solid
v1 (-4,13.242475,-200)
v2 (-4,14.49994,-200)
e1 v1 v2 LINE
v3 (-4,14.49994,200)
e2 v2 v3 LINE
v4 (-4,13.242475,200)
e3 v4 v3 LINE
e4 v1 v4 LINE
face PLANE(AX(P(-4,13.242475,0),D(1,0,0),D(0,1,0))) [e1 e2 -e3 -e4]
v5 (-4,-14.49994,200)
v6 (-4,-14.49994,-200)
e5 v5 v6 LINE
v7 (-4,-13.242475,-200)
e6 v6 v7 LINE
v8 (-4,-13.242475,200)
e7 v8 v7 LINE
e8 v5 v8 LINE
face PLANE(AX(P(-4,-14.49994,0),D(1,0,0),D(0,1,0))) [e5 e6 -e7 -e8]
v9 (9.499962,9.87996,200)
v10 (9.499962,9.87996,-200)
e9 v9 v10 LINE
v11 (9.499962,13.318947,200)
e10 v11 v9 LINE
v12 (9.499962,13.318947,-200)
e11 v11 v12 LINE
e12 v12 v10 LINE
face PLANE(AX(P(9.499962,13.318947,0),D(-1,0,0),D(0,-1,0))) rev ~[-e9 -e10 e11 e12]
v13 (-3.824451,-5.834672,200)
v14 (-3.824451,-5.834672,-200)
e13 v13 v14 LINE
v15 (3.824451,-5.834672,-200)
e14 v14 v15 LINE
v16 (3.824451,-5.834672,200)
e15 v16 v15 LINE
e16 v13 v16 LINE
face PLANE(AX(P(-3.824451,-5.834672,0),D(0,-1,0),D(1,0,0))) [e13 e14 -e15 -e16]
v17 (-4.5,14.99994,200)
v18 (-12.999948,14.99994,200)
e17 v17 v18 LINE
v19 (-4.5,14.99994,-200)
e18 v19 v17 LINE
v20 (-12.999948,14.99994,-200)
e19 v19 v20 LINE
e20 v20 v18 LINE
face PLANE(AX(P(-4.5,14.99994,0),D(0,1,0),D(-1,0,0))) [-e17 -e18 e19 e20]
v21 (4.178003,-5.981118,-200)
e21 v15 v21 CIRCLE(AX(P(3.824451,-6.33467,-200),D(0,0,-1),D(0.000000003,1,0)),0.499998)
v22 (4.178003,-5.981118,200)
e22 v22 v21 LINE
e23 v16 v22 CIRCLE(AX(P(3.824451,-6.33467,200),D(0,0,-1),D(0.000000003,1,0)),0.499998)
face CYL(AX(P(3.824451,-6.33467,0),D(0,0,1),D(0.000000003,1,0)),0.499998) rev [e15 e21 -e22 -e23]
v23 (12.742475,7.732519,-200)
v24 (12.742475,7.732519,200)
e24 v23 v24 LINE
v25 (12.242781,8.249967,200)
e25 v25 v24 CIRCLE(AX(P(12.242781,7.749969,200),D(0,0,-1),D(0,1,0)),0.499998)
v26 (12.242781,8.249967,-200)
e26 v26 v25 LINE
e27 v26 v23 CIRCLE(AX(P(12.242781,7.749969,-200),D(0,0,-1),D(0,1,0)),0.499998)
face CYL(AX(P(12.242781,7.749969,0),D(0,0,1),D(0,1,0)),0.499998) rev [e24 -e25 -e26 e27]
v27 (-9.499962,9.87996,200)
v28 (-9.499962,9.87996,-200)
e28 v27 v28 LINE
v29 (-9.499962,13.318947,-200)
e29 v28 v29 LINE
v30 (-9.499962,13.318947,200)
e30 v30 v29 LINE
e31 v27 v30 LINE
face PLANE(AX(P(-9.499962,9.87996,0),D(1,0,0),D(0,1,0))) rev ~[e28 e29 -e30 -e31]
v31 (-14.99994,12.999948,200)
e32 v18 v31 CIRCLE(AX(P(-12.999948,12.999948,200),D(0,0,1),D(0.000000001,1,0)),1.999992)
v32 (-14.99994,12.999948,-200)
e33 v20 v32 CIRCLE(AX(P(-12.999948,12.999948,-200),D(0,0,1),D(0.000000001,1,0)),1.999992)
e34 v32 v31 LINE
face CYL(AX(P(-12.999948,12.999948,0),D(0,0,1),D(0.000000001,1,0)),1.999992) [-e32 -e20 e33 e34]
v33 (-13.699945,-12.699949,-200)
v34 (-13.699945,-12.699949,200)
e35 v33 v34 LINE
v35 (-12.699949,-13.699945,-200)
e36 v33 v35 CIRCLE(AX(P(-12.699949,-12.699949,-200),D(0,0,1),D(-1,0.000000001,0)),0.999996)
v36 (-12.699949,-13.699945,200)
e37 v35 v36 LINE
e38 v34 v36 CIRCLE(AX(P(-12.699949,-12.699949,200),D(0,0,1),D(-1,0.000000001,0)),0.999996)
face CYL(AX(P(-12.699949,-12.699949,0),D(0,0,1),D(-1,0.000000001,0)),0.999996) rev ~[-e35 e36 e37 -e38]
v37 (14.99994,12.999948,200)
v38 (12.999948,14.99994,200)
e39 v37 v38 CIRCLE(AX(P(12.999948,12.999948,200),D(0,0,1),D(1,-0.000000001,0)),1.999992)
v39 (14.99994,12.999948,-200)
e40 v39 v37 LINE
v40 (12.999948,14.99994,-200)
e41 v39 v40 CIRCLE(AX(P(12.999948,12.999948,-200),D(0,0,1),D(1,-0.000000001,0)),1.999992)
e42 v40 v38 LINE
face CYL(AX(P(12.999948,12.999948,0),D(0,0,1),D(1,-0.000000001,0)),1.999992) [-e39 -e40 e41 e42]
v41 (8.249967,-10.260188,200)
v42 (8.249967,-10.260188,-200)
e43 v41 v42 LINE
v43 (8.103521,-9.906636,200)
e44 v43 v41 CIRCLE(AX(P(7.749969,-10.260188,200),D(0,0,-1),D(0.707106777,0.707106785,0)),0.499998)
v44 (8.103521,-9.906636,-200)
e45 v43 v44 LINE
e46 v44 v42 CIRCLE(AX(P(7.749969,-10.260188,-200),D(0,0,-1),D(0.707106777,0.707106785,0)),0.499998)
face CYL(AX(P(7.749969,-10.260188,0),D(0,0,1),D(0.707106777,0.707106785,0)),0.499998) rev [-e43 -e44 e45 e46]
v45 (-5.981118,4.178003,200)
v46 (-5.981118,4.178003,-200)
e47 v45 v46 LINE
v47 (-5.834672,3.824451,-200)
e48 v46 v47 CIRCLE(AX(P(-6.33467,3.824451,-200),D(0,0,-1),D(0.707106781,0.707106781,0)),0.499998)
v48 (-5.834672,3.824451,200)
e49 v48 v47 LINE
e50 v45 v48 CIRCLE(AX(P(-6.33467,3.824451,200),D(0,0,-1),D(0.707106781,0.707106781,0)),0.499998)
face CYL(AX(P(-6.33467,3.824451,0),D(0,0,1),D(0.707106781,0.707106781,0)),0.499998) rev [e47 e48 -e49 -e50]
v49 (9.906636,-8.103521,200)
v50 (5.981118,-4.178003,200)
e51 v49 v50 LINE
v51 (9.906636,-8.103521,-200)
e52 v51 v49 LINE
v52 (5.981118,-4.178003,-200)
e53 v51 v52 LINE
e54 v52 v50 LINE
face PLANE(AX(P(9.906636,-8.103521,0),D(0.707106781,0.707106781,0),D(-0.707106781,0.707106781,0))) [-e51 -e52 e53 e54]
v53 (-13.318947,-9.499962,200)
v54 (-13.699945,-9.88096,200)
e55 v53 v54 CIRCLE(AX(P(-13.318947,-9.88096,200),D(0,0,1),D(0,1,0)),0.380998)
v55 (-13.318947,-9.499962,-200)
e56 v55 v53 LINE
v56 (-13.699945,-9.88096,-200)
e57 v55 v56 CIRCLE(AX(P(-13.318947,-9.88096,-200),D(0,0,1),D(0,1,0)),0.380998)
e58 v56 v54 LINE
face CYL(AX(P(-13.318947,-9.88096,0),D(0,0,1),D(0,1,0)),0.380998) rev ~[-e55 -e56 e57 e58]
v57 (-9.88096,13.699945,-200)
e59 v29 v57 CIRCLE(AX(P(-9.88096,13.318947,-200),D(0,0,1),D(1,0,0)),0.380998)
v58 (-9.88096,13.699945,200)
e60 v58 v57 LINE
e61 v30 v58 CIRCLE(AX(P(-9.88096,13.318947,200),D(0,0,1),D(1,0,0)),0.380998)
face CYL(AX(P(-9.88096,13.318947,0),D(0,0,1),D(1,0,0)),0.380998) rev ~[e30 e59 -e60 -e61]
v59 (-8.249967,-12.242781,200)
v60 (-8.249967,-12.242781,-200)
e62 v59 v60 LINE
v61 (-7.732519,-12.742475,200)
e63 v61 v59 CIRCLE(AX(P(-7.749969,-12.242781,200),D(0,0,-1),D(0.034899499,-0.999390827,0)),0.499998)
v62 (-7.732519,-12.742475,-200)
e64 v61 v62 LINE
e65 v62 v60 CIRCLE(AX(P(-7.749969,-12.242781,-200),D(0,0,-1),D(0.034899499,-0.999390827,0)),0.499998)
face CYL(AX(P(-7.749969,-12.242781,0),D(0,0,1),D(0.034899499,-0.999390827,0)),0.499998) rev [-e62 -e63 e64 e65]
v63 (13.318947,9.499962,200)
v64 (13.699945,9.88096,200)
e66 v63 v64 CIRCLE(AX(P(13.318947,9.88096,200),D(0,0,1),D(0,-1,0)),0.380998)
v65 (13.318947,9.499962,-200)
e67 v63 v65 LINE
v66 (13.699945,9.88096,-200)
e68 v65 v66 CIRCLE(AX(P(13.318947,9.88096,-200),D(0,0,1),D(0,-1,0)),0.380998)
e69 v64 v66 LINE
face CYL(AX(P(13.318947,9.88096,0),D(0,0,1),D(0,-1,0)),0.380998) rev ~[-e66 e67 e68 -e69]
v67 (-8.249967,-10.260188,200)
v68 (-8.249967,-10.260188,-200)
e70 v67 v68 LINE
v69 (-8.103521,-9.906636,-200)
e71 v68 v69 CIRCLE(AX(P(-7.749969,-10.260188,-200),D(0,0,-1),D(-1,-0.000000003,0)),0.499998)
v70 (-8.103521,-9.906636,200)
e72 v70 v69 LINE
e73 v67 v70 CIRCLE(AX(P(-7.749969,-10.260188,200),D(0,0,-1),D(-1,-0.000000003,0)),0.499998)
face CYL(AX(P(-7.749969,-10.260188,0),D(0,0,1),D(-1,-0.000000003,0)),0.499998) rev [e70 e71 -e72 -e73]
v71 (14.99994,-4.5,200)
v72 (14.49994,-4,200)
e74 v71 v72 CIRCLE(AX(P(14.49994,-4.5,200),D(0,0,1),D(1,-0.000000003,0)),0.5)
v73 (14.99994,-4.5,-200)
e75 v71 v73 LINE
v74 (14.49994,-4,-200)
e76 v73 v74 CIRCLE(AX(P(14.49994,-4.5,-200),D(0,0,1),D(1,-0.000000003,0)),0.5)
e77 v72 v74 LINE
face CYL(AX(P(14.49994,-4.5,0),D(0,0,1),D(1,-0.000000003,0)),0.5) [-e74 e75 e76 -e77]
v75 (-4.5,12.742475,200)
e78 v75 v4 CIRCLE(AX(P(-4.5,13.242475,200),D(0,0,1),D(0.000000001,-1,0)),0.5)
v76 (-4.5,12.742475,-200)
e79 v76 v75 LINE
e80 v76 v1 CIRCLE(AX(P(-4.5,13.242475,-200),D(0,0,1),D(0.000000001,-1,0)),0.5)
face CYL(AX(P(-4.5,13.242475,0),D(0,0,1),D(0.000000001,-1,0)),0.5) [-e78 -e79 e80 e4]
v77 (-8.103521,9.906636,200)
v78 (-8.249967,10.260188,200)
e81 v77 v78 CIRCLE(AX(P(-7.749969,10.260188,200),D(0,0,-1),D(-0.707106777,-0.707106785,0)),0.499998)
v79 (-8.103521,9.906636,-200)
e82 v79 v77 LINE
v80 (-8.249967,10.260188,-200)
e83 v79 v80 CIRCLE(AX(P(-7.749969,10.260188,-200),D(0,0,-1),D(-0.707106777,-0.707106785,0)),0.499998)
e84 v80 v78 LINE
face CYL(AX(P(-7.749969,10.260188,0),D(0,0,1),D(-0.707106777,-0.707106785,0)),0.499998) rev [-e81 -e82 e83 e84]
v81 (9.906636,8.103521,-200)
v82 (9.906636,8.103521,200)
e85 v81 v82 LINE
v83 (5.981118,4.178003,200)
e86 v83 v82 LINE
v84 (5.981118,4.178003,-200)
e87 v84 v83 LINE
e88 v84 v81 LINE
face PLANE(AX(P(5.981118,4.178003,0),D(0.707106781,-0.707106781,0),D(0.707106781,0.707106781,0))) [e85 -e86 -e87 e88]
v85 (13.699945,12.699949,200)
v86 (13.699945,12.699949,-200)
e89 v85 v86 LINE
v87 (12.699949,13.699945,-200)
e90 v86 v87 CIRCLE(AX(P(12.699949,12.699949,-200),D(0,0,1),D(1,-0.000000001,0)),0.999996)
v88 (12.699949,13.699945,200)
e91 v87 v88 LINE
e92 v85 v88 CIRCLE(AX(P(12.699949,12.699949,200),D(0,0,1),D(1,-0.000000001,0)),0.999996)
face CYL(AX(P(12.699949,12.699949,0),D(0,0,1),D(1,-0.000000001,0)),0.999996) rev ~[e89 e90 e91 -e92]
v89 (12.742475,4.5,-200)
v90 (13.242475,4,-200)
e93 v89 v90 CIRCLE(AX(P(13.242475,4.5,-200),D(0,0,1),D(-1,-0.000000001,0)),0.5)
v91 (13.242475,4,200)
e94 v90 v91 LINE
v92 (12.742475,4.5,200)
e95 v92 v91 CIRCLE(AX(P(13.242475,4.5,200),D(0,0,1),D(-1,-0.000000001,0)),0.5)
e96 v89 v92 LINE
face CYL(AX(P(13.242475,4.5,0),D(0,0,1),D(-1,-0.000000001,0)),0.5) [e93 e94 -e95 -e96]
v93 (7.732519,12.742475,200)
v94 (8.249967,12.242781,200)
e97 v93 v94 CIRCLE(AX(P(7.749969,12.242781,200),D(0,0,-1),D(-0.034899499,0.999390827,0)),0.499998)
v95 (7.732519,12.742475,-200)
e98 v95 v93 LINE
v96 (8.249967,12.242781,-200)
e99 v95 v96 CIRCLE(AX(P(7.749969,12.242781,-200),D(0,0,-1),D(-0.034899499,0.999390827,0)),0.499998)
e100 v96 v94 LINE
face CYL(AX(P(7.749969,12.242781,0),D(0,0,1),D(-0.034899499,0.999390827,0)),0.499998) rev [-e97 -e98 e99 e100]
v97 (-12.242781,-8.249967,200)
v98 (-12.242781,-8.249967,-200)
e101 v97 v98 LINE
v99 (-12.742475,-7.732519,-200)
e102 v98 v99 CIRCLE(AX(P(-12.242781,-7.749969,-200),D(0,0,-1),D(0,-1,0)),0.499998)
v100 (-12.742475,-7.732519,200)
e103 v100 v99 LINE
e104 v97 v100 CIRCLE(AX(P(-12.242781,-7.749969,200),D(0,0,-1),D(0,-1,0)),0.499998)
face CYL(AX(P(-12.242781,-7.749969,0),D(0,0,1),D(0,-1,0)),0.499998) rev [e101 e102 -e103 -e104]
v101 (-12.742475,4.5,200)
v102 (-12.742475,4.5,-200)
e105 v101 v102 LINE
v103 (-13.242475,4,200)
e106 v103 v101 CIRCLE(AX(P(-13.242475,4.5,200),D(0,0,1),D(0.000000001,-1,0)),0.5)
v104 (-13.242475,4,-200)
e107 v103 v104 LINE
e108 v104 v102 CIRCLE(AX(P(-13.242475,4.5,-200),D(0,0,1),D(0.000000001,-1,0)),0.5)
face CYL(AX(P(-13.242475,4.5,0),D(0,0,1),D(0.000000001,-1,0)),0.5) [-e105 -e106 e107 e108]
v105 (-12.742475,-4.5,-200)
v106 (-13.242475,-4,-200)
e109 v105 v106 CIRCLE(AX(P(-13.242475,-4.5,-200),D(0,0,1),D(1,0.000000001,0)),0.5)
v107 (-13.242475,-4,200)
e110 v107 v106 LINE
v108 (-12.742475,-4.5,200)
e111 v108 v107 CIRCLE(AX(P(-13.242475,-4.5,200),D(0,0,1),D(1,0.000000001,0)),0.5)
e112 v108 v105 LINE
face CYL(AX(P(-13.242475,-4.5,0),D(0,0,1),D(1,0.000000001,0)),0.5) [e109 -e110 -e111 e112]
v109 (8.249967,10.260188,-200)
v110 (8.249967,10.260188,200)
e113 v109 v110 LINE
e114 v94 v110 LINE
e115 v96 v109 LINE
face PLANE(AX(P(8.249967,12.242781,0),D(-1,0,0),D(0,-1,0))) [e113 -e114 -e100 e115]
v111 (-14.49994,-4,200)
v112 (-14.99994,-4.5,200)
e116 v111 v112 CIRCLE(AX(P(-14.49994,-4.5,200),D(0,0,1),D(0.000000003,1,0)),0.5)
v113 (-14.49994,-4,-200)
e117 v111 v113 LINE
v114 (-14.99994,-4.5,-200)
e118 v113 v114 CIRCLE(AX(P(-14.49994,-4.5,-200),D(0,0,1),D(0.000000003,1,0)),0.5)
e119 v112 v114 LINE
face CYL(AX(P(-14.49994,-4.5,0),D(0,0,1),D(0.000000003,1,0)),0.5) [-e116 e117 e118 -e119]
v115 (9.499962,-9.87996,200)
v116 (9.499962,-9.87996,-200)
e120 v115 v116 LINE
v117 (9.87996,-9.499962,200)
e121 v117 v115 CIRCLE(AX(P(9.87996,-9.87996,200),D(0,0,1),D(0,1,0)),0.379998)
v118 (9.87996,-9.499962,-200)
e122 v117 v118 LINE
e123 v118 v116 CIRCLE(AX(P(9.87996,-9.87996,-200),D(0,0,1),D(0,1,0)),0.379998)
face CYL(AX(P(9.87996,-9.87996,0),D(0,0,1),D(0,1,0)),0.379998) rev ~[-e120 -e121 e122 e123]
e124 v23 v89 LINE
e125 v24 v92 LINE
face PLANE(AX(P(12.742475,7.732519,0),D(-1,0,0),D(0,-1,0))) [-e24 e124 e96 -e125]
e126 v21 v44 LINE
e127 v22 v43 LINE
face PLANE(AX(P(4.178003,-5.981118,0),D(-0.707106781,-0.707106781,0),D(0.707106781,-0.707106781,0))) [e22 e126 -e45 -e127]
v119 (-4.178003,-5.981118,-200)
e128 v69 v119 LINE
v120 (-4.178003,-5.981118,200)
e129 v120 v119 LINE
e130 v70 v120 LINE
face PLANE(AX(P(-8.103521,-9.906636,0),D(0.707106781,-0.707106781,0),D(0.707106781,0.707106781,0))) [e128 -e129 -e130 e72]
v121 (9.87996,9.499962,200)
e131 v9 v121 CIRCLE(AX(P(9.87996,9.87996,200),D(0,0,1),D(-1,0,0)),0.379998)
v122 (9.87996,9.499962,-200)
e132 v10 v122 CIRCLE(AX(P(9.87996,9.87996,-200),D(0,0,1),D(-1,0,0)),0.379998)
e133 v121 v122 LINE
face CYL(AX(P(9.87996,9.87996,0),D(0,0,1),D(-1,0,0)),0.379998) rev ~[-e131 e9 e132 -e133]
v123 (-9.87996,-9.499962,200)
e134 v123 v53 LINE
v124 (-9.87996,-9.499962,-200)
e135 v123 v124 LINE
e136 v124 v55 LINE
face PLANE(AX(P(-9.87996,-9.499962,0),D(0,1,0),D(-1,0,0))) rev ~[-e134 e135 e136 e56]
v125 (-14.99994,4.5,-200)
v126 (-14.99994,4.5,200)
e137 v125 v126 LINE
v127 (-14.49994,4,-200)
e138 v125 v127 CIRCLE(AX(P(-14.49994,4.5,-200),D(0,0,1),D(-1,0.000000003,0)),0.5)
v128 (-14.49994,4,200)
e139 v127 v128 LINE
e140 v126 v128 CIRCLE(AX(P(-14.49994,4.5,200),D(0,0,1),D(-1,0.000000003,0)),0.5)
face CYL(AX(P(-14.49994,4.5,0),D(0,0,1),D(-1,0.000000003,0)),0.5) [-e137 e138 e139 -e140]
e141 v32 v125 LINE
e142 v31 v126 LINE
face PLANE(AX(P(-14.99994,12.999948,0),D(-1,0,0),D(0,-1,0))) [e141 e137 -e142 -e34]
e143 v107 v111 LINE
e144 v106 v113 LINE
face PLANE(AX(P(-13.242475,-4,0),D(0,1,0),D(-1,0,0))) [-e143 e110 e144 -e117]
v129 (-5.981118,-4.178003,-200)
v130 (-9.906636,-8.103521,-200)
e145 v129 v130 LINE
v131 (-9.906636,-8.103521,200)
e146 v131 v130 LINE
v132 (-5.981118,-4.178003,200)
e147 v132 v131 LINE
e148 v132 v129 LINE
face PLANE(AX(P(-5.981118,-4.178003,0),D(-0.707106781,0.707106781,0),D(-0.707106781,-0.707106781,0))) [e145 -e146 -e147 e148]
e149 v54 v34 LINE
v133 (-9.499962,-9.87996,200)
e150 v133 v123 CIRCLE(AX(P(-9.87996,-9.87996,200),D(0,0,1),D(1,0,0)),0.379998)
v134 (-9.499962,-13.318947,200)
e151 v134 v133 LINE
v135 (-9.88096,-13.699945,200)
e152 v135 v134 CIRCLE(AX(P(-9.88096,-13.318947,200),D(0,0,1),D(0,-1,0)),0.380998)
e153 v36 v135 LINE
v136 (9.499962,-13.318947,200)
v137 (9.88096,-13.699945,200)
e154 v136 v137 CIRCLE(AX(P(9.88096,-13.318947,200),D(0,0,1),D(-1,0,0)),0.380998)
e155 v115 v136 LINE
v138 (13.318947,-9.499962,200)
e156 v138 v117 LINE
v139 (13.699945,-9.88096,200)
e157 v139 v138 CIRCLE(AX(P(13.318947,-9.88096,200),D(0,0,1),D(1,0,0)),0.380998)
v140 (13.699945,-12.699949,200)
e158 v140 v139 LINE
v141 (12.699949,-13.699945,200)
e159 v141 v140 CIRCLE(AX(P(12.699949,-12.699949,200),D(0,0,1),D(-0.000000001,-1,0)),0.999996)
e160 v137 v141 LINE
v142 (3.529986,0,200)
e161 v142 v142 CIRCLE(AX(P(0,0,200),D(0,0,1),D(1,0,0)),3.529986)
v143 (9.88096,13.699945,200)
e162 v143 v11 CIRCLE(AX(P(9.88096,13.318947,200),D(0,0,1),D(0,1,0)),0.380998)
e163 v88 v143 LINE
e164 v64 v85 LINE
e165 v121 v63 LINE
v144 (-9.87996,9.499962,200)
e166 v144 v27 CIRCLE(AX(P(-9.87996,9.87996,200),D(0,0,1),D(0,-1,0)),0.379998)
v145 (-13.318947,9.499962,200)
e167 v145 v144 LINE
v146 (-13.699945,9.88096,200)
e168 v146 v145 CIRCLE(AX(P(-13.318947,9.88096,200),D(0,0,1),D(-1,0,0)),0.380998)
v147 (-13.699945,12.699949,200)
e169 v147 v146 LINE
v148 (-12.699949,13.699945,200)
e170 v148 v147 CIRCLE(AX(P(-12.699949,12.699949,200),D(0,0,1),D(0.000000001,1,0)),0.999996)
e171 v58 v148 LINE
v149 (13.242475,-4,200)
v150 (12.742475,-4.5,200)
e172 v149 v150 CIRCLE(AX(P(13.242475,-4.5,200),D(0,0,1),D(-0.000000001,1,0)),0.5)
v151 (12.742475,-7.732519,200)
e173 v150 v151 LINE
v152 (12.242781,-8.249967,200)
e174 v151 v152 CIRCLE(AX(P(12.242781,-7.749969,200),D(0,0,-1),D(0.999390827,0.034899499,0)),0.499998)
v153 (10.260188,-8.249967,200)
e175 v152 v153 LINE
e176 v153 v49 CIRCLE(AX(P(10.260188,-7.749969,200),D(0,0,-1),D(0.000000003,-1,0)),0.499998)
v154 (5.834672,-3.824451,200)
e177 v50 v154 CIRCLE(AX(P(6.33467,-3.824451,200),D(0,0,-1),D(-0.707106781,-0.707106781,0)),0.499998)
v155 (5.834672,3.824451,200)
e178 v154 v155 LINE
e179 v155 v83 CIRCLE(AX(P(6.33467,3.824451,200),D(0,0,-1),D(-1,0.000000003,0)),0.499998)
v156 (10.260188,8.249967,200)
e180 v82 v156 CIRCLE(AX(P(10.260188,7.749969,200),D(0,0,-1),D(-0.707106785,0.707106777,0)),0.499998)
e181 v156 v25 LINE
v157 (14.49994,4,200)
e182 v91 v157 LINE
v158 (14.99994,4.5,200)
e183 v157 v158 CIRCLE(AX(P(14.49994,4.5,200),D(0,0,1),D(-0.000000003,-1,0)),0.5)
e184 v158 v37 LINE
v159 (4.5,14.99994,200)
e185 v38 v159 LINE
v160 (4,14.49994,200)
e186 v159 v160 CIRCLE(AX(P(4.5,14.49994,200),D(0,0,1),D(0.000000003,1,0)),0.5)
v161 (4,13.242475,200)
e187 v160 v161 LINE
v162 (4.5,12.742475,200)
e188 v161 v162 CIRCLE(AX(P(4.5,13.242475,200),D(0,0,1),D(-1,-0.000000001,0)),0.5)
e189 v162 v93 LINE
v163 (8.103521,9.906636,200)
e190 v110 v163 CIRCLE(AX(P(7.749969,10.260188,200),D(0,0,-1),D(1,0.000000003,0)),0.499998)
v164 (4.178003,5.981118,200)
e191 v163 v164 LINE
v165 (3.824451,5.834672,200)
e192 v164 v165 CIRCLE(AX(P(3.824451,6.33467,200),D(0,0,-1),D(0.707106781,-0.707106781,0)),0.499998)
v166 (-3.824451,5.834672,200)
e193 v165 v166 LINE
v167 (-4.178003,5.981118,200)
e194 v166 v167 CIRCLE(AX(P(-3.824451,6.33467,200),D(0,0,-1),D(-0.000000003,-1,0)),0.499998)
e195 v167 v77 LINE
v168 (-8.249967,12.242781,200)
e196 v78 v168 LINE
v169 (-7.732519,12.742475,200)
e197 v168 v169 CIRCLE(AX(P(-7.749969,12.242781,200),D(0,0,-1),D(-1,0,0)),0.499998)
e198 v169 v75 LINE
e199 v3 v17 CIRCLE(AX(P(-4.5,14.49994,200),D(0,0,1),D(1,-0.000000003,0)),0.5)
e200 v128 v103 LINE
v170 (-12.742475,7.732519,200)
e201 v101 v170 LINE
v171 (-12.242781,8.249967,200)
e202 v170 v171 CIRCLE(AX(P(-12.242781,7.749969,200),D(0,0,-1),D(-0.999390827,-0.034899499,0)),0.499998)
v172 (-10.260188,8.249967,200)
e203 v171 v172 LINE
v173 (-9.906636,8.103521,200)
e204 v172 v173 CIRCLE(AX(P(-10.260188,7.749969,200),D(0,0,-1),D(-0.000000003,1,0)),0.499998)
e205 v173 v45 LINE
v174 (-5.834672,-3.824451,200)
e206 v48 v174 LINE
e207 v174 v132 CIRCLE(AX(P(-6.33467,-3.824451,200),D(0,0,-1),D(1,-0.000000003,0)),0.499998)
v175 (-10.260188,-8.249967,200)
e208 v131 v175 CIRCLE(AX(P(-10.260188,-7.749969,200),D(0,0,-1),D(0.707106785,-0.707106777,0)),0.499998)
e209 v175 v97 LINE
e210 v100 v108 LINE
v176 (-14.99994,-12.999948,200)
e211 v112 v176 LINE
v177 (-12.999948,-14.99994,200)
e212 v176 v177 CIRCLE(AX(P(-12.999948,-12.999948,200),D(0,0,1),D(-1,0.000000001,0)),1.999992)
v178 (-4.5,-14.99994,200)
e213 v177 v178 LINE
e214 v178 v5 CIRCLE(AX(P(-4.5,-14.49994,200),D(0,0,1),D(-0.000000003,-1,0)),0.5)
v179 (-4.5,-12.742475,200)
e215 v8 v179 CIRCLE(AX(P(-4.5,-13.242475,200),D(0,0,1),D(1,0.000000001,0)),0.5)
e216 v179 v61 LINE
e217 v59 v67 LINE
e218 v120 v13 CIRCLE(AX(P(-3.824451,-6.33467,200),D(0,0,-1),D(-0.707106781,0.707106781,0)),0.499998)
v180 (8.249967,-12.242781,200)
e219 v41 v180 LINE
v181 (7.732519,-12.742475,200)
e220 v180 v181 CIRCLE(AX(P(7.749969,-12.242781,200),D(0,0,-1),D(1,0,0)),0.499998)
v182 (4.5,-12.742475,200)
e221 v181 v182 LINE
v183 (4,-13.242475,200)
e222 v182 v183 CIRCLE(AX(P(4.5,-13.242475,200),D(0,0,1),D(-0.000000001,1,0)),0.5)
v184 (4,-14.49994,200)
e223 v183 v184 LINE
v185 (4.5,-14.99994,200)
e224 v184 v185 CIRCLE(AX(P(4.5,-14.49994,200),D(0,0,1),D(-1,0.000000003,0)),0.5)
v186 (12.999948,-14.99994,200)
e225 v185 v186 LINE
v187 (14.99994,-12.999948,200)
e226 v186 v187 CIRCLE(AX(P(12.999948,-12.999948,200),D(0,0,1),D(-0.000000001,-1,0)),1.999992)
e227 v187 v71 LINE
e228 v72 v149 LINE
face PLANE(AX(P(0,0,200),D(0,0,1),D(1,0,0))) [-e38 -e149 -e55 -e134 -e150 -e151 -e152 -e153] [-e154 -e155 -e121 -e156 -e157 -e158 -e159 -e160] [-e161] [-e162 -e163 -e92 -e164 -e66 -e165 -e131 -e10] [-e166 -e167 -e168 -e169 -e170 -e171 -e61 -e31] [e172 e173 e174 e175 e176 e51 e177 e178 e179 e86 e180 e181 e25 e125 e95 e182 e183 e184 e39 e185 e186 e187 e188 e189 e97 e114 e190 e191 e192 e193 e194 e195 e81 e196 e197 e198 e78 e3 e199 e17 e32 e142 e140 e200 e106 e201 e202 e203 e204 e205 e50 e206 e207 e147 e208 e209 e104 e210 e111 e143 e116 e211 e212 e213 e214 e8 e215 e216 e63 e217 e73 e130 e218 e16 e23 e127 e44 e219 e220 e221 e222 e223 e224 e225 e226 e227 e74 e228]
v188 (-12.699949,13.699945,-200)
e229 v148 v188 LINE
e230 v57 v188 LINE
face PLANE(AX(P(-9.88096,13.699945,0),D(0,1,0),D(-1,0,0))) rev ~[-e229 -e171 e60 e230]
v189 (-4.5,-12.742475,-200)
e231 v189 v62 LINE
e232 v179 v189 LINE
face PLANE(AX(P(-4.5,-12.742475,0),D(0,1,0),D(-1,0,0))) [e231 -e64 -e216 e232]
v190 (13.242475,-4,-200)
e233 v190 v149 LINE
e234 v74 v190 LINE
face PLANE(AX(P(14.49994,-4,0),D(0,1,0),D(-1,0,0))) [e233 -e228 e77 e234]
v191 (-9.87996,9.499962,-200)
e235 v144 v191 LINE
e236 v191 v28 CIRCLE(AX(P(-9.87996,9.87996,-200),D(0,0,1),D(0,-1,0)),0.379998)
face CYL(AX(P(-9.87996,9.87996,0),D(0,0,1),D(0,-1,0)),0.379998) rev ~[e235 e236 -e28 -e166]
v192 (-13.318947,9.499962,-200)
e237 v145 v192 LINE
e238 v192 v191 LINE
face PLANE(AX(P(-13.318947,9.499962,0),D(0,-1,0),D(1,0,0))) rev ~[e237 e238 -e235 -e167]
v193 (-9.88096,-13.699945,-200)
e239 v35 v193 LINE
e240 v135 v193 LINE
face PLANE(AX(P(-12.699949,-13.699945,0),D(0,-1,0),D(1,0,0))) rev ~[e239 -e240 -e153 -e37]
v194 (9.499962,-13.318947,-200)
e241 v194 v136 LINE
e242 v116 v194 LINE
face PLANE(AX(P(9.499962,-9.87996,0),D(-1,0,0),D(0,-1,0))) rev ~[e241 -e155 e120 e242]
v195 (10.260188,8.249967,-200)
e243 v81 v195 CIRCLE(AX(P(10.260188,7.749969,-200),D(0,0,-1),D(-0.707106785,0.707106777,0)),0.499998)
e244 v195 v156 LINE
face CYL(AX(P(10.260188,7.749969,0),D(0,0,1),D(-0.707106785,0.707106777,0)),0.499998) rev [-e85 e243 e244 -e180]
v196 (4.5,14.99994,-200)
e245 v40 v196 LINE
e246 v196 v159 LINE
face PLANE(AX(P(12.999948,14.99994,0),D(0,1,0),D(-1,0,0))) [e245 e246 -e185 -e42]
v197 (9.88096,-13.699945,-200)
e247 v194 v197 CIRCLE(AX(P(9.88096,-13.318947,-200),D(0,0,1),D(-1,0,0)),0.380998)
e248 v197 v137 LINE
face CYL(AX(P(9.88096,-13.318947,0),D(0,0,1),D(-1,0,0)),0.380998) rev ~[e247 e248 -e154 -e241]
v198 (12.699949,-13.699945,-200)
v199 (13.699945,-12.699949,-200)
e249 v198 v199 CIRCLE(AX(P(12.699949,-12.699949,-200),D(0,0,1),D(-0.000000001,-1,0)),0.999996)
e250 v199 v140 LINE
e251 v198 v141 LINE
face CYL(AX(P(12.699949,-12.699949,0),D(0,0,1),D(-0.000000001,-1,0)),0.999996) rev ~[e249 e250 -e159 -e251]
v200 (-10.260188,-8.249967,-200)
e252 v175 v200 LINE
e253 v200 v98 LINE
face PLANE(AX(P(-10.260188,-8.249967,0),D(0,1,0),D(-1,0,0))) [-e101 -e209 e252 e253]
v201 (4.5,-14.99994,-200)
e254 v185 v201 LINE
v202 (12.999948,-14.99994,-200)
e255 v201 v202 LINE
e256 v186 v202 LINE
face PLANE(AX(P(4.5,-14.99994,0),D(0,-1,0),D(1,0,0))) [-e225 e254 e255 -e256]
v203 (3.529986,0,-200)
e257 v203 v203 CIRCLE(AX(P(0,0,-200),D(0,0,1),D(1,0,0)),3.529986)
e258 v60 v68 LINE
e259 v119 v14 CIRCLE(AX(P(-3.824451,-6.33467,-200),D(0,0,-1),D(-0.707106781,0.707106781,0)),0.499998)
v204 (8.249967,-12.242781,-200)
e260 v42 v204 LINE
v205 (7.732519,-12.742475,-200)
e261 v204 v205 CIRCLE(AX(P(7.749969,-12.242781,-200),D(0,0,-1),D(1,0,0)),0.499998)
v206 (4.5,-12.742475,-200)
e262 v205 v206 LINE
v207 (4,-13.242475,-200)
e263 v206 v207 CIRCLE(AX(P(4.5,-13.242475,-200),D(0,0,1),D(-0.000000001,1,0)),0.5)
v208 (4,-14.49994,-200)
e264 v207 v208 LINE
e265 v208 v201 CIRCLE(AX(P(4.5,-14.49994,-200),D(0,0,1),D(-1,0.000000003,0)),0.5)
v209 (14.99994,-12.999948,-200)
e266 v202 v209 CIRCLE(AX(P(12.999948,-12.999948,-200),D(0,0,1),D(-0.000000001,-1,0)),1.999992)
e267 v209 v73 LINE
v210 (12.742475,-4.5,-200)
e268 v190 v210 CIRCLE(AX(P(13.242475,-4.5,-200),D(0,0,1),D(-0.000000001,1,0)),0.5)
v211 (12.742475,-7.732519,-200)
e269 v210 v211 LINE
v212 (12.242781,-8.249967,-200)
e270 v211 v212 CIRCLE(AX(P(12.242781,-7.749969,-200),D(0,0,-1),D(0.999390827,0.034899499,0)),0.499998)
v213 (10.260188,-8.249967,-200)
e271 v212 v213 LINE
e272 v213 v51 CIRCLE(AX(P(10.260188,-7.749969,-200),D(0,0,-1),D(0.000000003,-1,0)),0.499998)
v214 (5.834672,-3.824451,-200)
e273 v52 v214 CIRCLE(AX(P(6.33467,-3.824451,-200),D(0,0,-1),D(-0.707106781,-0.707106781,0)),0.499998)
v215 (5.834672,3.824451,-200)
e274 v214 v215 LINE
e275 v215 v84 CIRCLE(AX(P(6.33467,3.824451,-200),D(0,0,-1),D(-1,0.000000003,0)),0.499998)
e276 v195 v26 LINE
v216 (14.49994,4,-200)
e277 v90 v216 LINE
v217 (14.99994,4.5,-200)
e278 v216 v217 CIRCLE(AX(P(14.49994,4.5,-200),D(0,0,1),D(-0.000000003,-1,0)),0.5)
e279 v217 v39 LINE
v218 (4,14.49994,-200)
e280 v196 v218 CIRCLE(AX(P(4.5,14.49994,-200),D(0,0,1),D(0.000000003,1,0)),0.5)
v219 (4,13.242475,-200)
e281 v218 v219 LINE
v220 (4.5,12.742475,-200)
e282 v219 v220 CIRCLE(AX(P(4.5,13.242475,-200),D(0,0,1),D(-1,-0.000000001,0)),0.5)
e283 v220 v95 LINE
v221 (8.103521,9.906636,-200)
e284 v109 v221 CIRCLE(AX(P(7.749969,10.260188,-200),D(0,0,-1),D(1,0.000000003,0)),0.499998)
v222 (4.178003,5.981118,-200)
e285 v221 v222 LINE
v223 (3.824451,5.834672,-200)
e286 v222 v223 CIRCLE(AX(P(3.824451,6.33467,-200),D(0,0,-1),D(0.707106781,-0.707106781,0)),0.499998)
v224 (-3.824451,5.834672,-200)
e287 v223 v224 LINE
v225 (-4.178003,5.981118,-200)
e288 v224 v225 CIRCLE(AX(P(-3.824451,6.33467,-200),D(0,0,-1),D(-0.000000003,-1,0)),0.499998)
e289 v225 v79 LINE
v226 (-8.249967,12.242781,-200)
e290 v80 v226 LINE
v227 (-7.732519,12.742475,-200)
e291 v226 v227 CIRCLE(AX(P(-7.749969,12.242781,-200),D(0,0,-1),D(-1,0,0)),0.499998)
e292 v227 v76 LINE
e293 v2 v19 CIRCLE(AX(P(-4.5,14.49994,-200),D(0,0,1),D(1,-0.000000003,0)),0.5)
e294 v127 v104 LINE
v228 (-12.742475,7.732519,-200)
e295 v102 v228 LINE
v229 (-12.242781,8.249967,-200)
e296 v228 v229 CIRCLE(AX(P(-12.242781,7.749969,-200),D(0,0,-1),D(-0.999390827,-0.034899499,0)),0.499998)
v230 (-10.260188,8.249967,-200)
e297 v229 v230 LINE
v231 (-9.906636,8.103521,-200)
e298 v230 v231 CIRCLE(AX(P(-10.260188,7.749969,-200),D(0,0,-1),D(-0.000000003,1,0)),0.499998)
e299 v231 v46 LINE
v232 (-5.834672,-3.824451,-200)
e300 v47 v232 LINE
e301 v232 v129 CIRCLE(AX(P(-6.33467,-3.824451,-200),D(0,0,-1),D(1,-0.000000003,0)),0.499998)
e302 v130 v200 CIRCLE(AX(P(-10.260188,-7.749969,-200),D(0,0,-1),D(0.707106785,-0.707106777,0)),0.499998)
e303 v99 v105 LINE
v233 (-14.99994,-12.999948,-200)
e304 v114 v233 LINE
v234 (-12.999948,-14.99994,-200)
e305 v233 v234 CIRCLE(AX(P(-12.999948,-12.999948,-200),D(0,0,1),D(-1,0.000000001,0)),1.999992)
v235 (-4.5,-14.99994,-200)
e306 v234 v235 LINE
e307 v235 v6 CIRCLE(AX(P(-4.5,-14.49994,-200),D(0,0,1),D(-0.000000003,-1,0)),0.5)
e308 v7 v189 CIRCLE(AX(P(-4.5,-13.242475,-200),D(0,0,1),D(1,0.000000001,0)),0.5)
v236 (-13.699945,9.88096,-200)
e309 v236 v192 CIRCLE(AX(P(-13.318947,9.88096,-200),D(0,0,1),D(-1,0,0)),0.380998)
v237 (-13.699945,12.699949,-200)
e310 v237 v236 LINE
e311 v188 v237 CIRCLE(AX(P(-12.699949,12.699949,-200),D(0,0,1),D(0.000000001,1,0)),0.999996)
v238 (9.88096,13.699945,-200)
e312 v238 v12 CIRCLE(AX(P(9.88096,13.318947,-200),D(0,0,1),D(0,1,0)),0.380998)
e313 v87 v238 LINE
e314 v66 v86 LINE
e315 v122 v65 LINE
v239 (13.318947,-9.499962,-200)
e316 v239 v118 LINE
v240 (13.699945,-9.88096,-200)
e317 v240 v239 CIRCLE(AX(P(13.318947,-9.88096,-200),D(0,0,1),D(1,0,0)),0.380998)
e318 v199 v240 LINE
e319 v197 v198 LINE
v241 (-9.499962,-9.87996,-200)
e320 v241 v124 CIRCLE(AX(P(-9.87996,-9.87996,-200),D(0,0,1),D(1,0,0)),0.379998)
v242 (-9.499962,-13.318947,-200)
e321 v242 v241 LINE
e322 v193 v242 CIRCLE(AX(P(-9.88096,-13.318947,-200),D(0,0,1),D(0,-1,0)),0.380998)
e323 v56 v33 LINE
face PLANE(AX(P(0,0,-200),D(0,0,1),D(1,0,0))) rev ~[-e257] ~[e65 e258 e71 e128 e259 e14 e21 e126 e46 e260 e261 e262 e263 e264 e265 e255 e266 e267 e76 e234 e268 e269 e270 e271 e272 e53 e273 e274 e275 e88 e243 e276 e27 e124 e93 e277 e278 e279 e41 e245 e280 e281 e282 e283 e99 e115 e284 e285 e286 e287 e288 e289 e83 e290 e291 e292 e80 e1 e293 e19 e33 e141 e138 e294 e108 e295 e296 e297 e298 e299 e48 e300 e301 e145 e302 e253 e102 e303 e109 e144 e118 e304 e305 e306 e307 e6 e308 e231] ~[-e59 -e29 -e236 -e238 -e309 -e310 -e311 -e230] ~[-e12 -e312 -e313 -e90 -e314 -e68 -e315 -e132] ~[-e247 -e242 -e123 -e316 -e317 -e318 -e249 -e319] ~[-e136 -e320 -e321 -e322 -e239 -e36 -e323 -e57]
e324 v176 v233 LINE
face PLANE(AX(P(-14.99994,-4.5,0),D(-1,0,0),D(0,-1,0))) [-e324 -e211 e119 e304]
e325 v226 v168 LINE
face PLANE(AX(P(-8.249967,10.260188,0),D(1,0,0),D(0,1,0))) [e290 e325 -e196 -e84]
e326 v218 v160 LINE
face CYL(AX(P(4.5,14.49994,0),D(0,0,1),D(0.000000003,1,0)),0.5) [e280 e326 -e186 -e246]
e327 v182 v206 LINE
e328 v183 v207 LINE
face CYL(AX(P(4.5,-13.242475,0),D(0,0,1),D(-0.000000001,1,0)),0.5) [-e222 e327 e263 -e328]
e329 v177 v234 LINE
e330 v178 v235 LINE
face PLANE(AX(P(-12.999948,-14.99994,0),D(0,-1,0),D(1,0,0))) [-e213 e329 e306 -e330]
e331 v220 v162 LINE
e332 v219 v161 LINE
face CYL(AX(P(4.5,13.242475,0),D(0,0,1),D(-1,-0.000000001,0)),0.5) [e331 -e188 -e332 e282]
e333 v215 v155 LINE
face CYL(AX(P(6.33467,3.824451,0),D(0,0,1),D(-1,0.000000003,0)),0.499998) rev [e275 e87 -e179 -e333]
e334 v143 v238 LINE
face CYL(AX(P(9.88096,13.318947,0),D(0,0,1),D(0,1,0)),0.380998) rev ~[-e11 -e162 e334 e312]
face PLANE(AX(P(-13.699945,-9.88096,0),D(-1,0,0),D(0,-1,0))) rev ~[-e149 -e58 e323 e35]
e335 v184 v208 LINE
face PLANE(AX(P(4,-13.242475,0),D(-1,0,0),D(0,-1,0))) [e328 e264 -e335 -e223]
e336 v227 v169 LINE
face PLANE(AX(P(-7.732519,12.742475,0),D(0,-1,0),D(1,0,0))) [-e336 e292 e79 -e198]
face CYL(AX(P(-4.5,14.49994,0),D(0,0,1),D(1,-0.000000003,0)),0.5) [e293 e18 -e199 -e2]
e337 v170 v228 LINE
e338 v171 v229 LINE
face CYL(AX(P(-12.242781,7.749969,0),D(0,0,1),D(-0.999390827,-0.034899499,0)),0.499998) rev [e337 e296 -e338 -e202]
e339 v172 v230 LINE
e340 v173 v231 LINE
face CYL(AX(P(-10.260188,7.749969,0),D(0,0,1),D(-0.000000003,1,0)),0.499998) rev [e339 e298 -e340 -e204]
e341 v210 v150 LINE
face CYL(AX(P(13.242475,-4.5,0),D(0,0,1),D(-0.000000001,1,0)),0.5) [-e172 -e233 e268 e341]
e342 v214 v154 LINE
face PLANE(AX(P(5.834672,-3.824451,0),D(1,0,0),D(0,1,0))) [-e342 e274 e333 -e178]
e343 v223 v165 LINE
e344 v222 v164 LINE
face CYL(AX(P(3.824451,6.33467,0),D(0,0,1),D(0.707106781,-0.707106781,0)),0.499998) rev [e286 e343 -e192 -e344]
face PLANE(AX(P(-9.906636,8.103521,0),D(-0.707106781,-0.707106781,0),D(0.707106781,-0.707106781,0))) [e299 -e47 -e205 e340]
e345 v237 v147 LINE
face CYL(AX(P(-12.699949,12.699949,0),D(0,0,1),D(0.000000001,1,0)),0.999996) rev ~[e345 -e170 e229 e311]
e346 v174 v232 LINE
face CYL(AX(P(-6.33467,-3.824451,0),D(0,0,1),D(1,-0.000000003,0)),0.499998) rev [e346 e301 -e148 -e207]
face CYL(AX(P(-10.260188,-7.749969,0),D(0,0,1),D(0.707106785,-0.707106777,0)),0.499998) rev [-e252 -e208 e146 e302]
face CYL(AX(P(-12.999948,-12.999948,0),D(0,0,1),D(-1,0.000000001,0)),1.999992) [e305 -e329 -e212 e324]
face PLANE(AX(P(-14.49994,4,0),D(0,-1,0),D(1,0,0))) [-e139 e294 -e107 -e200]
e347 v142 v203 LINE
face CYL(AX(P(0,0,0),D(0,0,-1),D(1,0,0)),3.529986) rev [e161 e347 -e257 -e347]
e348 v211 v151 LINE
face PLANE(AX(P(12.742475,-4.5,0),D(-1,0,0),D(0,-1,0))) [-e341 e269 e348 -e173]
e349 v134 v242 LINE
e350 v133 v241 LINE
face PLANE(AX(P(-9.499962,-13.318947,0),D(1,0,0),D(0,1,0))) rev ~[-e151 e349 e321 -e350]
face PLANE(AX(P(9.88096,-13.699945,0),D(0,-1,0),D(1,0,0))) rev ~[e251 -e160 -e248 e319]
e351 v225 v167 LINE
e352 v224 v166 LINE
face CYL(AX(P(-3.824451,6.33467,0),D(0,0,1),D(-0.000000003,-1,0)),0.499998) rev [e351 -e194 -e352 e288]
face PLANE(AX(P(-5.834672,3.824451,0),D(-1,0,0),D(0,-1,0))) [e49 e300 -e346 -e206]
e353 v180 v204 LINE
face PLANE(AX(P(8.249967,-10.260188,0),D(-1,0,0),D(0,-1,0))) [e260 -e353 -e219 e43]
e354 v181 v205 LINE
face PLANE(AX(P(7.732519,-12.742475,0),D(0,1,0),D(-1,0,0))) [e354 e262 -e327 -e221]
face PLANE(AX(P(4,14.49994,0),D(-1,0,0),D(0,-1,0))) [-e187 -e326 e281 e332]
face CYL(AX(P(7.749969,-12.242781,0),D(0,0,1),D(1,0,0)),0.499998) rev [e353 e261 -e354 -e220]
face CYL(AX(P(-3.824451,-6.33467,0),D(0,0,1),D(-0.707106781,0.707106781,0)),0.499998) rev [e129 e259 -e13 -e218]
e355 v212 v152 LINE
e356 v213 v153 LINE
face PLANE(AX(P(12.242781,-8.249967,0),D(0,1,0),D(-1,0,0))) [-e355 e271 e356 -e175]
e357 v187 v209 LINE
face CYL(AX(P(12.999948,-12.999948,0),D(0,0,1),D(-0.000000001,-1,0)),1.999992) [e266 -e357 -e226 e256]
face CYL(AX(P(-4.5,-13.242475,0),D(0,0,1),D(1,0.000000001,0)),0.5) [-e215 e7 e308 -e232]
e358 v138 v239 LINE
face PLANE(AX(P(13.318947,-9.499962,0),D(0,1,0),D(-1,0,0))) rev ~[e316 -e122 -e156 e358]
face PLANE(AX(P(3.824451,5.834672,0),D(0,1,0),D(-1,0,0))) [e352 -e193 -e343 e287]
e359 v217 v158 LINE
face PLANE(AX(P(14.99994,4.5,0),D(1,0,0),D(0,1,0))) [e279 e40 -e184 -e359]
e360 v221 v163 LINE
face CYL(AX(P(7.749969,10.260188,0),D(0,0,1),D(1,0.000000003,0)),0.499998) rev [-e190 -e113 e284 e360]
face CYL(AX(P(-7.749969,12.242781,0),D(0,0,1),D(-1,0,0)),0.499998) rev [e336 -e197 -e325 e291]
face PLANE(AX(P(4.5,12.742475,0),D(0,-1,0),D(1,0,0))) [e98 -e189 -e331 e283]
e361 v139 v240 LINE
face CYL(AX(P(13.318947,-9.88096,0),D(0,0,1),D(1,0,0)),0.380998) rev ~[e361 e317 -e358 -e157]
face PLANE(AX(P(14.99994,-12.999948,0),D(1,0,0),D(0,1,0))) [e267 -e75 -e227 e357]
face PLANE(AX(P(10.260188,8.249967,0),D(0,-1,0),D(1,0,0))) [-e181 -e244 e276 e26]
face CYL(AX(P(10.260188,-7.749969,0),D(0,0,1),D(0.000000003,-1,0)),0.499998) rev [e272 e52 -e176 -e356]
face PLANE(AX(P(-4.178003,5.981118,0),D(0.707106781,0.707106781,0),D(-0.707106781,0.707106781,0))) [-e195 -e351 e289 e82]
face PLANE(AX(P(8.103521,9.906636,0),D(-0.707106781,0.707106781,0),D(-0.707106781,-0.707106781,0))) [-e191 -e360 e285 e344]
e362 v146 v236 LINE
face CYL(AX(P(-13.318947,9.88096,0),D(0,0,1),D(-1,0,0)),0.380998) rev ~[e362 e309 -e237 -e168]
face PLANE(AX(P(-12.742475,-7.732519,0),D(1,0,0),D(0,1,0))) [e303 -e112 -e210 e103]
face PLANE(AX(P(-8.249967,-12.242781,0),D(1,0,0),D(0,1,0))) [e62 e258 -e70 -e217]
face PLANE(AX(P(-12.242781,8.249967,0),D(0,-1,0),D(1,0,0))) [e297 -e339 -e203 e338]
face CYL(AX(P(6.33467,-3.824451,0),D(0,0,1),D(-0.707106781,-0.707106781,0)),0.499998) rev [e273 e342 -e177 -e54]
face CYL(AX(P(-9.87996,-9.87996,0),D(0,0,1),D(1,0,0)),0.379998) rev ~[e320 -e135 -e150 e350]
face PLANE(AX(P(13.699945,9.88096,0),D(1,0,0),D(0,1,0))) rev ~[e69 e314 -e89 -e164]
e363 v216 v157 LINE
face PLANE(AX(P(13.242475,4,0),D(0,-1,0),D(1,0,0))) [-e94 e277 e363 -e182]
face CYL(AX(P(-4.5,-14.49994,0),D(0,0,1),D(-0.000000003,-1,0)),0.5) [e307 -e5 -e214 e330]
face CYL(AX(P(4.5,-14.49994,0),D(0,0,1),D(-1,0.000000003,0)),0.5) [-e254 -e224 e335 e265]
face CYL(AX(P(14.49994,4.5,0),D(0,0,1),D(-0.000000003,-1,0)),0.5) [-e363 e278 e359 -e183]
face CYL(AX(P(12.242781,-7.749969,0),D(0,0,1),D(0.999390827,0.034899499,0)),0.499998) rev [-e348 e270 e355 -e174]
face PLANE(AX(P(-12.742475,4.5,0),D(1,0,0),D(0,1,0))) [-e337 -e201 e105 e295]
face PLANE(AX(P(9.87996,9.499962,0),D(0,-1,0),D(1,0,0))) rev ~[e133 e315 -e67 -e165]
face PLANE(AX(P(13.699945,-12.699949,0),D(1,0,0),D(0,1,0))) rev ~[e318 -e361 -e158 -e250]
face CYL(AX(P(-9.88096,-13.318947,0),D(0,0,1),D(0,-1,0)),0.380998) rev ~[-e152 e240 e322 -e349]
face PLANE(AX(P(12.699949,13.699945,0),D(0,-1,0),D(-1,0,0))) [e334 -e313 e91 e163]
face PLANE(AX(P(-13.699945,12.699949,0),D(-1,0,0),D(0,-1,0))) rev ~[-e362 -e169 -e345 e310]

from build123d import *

# Parameters (mm, degrees)
SKETCH1_R           = 3.52998588
BOSS_EXTRUDE1_DEPTH = 200


with BuildPart() as part:
    # Sketch1 → Boss-Extrude1 (new, symmetric)
    with BuildSketch(Plane.XY):
        with BuildLine():
            Line((14.49994, -4), (13.24247465, -4))
            ThreePointArc((13.24247465, -4), (12.88892126, -4.146446609), (12.74247465, -4.5))
            Line((12.74247465, -4.5), (12.74247465, -7.732519321))
            ThreePointArc((12.74247465, -7.732519321), (12.602449697, -8.097296796), (12.242781236, -8.249967))
            Line((12.242781236, -8.249967), (10.260188032, -8.249967))
            ThreePointArc((10.260188032, -8.249967), (10.068847082, -8.211906919), (9.906636056, -8.103520976))
            Line((9.906636056, -8.103520976), (5.981117769, -4.178002689))
            ThreePointArc((5.981117769, -4.178002689), (5.872731827, -4.015791664), (5.834671745, -3.824450713))
            Line((5.834671745, -3.824450713), (5.834671745, -1.01249595))
            Line((5.834671745, -1.01249595), (5.834671745, 0.88749645))
            Line((5.834671745, 0.88749645), (5.834671745, 3.824450713))
            ThreePointArc((5.834671745, 3.824450713), (5.872731827, 4.015791664), (5.981117769, 4.178002689))
            Line((5.981117769, 4.178002689), (9.906636056, 8.103520976))
            ThreePointArc((9.906636056, 8.103520976), (10.068847082, 8.211906919), (10.260188032, 8.249967))
            Line((10.260188032, 8.249967), (12.242781236, 8.249967))
            ThreePointArc((12.242781236, 8.249967), (12.602449697, 8.097296796), (12.74247465, 7.732519321))
            Line((12.74247465, 7.732519321), (12.74247465, 4.5))
            ThreePointArc((12.74247465, 4.5), (12.88892126, 4.146446609), (13.24247465, 4))
            Line((13.24247465, 4), (14.49994, 4))
            ThreePointArc((14.49994, 4), (14.853493391, 4.146446609), (14.99994, 4.5))
            Line((14.99994, 4.5), (14.99994, 12.999948))
            ThreePointArc((14.99994, 12.999948), (14.414155906, 14.414155906), (12.999948, 14.99994))
            Line((12.999948, 14.99994), (4.5, 14.99994))
            ThreePointArc((4.5, 14.99994), (4.146446609, 14.853493391), (4, 14.49994))
            Line((4, 14.49994), (4, 13.24247465))
            ThreePointArc((4, 13.24247465), (4.146446609, 12.88892126), (4.5, 12.74247465))
            Line((4.5, 12.74247465), (7.732519321, 12.74247465))
            ThreePointArc((7.732519321, 12.74247465), (8.097296796, 12.602449697), (8.249967, 12.242781236))
            Line((8.249967, 12.242781236), (8.249967, 10.260188032))
            ThreePointArc((8.249967, 10.260188032), (8.211906919, 10.068847082), (8.103520976, 9.906636056))
            Line((8.103520976, 9.906636056), (4.178002689, 5.981117769))
            ThreePointArc((4.178002689, 5.981117769), (4.015791664, 5.872731827), (3.824450713, 5.834671745))
            Line((3.824450713, 5.834671745), (0.9499962, 5.834671745))
            Line((0.9499962, 5.834671745), (-0.9499962, 5.834671745))
            Line((-0.9499962, 5.834671745), (-3.824450713, 5.834671745))
            ThreePointArc((-3.824450713, 5.834671745), (-4.015791664, 5.872731827), (-4.178002689, 5.981117769))
            Line((-4.178002689, 5.981117769), (-8.103520976, 9.906636056))
            ThreePointArc((-8.103520976, 9.906636056), (-8.211906919, 10.068847082), (-8.249967, 10.260188032))
            Line((-8.249967, 10.260188032), (-8.249967, 12.242781236))
            ThreePointArc((-8.249967, 12.242781236), (-8.097296796, 12.602449697), (-7.732519321, 12.74247465))
            Line((-7.732519321, 12.74247465), (-4.5, 12.74247465))
            ThreePointArc((-4.5, 12.74247465), (-4.146446609, 12.88892126), (-4, 13.24247465))
            Line((-4, 13.24247465), (-4, 14.49994))
            ThreePointArc((-4, 14.49994), (-4.146446609, 14.853493391), (-4.5, 14.99994))
            Line((-4.5, 14.99994), (-12.999948, 14.99994))
            ThreePointArc((-12.999948, 14.99994), (-14.414155906, 14.414155906), (-14.99994, 12.999948))
            Line((-14.99994, 12.999948), (-14.99994, 4.5))
            ThreePointArc((-14.99994, 4.5), (-14.853493391, 4.146446609), (-14.49994, 4))
            Line((-14.49994, 4), (-13.24247465, 4))
            ThreePointArc((-13.24247465, 4), (-12.88892126, 4.146446609), (-12.74247465, 4.5))
            Line((-12.74247465, 4.5), (-12.74247465, 7.732519321))
            ThreePointArc((-12.74247465, 7.732519321), (-12.602449697, 8.097296796), (-12.242781236, 8.249967))
            Line((-12.242781236, 8.249967), (-10.260188032, 8.249967))
            ThreePointArc((-10.260188032, 8.249967), (-10.068847082, 8.211906919), (-9.906636056, 8.103520976))
            Line((-9.906636056, 8.103520976), (-5.981117769, 4.178002689))
            ThreePointArc((-5.981117769, 4.178002689), (-5.872731827, 4.015791664), (-5.834671745, 3.824450713))
            Line((-5.834671745, 3.824450713), (-5.834671745, 0.88749645))
            Line((-5.834671745, 0.88749645), (-5.834671745, -1.01249595))
            Line((-5.834671745, -1.01249595), (-5.834671745, -3.824450713))
            ThreePointArc((-5.834671745, -3.824450713), (-5.872731827, -4.015791664), (-5.981117769, -4.178002689))
            Line((-5.981117769, -4.178002689), (-9.906636056, -8.103520976))
            ThreePointArc((-9.906636056, -8.103520976), (-10.068847082, -8.211906919), (-10.260188032, -8.249967))
            Line((-10.260188032, -8.249967), (-12.242781236, -8.249967))
            ThreePointArc((-12.242781236, -8.249967), (-12.602449697, -8.097296796), (-12.74247465, -7.732519321))
            Line((-12.74247465, -7.732519321), (-12.74247465, -4.5))
            ThreePointArc((-12.74247465, -4.5), (-12.88892126, -4.146446609), (-13.24247465, -4))
            Line((-13.24247465, -4), (-14.49994, -4))
            ThreePointArc((-14.49994, -4), (-14.853493391, -4.146446609), (-14.99994, -4.5))
            Line((-14.99994, -4.5), (-14.99994, -12.999948))
            ThreePointArc((-14.99994, -12.999948), (-14.414155906, -14.414155906), (-12.999948, -14.99994))
            Line((-12.999948, -14.99994), (-4.5, -14.99994))
            ThreePointArc((-4.5, -14.99994), (-4.146446609, -14.853493391), (-4, -14.49994))
            Line((-4, -14.49994), (-4, -13.24247465))
            ThreePointArc((-4, -13.24247465), (-4.146446609, -12.88892126), (-4.5, -12.74247465))
            Line((-4.5, -12.74247465), (-7.732519321, -12.74247465))
            ThreePointArc((-7.732519321, -12.74247465), (-8.097296796, -12.602449697), (-8.249967, -12.242781236))
            Line((-8.249967, -12.242781236), (-8.249967, -10.260188032))
            ThreePointArc((-8.249967, -10.260188032), (-8.211906919, -10.068847082), (-8.103520976, -9.906636056))
            Line((-8.103520976, -9.906636056), (-4.178002689, -5.981117769))
            ThreePointArc((-4.178002689, -5.981117769), (-4.015791664, -5.872731827), (-3.824450713, -5.834671745))
            Line((-3.824450713, -5.834671745), (-0.9499962, -5.834671745))
            Line((-0.9499962, -5.834671745), (0.9499962, -5.834671745))
            Line((0.9499962, -5.834671745), (3.824450713, -5.834671745))
            ThreePointArc((3.824450713, -5.834671745), (4.015791664, -5.872731827), (4.178002689, -5.981117769))
            Line((4.178002689, -5.981117769), (8.103520976, -9.906636056))
            ThreePointArc((8.103520976, -9.906636056), (8.211906919, -10.068847082), (8.249967, -10.260188032))
            Line((8.249967, -10.260188032), (8.249967, -12.242781236))
            ThreePointArc((8.249967, -12.242781236), (8.097296796, -12.602449697), (7.732519321, -12.74247465))
            Line((7.732519321, -12.74247465), (4.5, -12.74247465))
            ThreePointArc((4.5, -12.74247465), (4.146446609, -12.88892126), (4, -13.24247465))
            Line((4, -13.24247465), (4, -14.49994))
            ThreePointArc((4, -14.49994), (4.146446609, -14.853493391), (4.5, -14.99994))
            Line((4.5, -14.99994), (12.999948, -14.99994))
            ThreePointArc((12.999948, -14.99994), (14.414155906, -14.414155906), (14.99994, -12.999948))
            Line((14.99994, -12.999948), (14.99994, -4.5))
            ThreePointArc((14.99994, -4.5), (14.853493391, -4.146446609), (14.49994, -4))
        make_face()
        Circle(SKETCH1_R, mode=Mode.SUBTRACT)
        with BuildLine():
            Line((-12.6999492, -13.6999452), (-9.880960476, -13.6999452))
            ThreePointArc((-9.880960476, -13.6999452), (-9.61155387, -13.58835333), (-9.499962, -13.318946724))
            Line((-9.499962, -13.318946724), (-9.499962, -9.87996048))
            ThreePointArc((-9.499962, -9.87996048), (-9.611260978, -9.611260978), (-9.87996048, -9.499962))
            Line((-9.87996048, -9.499962), (-13.318946724, -9.499962))
            ThreePointArc((-13.318946724, -9.499962), (-13.58835333, -9.61155387), (-13.6999452, -9.880960476))
            Line((-13.6999452, -9.880960476), (-13.6999452, -12.6999492))
            ThreePointArc((-13.6999452, -12.6999492), (-13.407053153, -13.407053153), (-12.6999492, -13.6999452))
        make_face(mode=Mode.SUBTRACT)
        with BuildLine():
            Line((13.6999452, -12.6999492), (13.6999452, -9.880960476))
            ThreePointArc((13.6999452, -9.880960476), (13.58835333, -9.61155387), (13.318946724, -9.499962))
            Line((13.318946724, -9.499962), (9.87996048, -9.499962))
            ThreePointArc((9.87996048, -9.499962), (9.611260978, -9.611260978), (9.499962, -9.87996048))
            Line((9.499962, -9.87996048), (9.499962, -13.318946724))
            ThreePointArc((9.499962, -13.318946724), (9.61155387, -13.58835333), (9.880960476, -13.6999452))
            Line((9.880960476, -13.6999452), (12.6999492, -13.6999452))
            ThreePointArc((12.6999492, -13.6999452), (13.407053153, -13.407053153), (13.6999452, -12.6999492))
        make_face(mode=Mode.SUBTRACT)
        with BuildLine():
            Line((9.87996048, 9.499962), (13.318946724, 9.499962))
            ThreePointArc((13.318946724, 9.499962), (13.58835333, 9.61155387), (13.6999452, 9.880960476))
            Line((13.6999452, 9.880960476), (13.6999452, 12.6999492))
            ThreePointArc((13.6999452, 12.6999492), (13.407053153, 13.407053153), (12.6999492, 13.6999452))
            Line((12.6999492, 13.6999452), (9.880960476, 13.6999452))
            ThreePointArc((9.880960476, 13.6999452), (9.61155387, 13.58835333), (9.499962, 13.318946724))
            Line((9.499962, 13.318946724), (9.499962, 9.87996048))
            ThreePointArc((9.499962, 9.87996048), (9.611260978, 9.611260978), (9.87996048, 9.499962))
        make_face(mode=Mode.SUBTRACT)
        with BuildLine():
            Line((-13.6999452, 12.6999492), (-13.6999452, 9.880960476))
            ThreePointArc((-13.6999452, 9.880960476), (-13.58835333, 9.61155387), (-13.318946724, 9.499962))
            Line((-13.318946724, 9.499962), (-9.87996048, 9.499962))
            ThreePointArc((-9.87996048, 9.499962), (-9.611260978, 9.611260978), (-9.499962, 9.87996048))
            Line((-9.499962, 9.87996048), (-9.499962, 13.318946724))
            ThreePointArc((-9.499962, 13.318946724), (-9.61155387, 13.58835333), (-9.880960476, 13.6999452))
            Line((-9.880960476, 13.6999452), (-12.6999492, 13.6999452))
            ThreePointArc((-12.6999492, 13.6999452), (-13.407053153, 13.407053153), (-13.6999452, 12.6999492))
        make_face(mode=Mode.SUBTRACT)
    extrude(amount=BOSS_EXTRUDE1_DEPTH, both=True)


solid = part.part
